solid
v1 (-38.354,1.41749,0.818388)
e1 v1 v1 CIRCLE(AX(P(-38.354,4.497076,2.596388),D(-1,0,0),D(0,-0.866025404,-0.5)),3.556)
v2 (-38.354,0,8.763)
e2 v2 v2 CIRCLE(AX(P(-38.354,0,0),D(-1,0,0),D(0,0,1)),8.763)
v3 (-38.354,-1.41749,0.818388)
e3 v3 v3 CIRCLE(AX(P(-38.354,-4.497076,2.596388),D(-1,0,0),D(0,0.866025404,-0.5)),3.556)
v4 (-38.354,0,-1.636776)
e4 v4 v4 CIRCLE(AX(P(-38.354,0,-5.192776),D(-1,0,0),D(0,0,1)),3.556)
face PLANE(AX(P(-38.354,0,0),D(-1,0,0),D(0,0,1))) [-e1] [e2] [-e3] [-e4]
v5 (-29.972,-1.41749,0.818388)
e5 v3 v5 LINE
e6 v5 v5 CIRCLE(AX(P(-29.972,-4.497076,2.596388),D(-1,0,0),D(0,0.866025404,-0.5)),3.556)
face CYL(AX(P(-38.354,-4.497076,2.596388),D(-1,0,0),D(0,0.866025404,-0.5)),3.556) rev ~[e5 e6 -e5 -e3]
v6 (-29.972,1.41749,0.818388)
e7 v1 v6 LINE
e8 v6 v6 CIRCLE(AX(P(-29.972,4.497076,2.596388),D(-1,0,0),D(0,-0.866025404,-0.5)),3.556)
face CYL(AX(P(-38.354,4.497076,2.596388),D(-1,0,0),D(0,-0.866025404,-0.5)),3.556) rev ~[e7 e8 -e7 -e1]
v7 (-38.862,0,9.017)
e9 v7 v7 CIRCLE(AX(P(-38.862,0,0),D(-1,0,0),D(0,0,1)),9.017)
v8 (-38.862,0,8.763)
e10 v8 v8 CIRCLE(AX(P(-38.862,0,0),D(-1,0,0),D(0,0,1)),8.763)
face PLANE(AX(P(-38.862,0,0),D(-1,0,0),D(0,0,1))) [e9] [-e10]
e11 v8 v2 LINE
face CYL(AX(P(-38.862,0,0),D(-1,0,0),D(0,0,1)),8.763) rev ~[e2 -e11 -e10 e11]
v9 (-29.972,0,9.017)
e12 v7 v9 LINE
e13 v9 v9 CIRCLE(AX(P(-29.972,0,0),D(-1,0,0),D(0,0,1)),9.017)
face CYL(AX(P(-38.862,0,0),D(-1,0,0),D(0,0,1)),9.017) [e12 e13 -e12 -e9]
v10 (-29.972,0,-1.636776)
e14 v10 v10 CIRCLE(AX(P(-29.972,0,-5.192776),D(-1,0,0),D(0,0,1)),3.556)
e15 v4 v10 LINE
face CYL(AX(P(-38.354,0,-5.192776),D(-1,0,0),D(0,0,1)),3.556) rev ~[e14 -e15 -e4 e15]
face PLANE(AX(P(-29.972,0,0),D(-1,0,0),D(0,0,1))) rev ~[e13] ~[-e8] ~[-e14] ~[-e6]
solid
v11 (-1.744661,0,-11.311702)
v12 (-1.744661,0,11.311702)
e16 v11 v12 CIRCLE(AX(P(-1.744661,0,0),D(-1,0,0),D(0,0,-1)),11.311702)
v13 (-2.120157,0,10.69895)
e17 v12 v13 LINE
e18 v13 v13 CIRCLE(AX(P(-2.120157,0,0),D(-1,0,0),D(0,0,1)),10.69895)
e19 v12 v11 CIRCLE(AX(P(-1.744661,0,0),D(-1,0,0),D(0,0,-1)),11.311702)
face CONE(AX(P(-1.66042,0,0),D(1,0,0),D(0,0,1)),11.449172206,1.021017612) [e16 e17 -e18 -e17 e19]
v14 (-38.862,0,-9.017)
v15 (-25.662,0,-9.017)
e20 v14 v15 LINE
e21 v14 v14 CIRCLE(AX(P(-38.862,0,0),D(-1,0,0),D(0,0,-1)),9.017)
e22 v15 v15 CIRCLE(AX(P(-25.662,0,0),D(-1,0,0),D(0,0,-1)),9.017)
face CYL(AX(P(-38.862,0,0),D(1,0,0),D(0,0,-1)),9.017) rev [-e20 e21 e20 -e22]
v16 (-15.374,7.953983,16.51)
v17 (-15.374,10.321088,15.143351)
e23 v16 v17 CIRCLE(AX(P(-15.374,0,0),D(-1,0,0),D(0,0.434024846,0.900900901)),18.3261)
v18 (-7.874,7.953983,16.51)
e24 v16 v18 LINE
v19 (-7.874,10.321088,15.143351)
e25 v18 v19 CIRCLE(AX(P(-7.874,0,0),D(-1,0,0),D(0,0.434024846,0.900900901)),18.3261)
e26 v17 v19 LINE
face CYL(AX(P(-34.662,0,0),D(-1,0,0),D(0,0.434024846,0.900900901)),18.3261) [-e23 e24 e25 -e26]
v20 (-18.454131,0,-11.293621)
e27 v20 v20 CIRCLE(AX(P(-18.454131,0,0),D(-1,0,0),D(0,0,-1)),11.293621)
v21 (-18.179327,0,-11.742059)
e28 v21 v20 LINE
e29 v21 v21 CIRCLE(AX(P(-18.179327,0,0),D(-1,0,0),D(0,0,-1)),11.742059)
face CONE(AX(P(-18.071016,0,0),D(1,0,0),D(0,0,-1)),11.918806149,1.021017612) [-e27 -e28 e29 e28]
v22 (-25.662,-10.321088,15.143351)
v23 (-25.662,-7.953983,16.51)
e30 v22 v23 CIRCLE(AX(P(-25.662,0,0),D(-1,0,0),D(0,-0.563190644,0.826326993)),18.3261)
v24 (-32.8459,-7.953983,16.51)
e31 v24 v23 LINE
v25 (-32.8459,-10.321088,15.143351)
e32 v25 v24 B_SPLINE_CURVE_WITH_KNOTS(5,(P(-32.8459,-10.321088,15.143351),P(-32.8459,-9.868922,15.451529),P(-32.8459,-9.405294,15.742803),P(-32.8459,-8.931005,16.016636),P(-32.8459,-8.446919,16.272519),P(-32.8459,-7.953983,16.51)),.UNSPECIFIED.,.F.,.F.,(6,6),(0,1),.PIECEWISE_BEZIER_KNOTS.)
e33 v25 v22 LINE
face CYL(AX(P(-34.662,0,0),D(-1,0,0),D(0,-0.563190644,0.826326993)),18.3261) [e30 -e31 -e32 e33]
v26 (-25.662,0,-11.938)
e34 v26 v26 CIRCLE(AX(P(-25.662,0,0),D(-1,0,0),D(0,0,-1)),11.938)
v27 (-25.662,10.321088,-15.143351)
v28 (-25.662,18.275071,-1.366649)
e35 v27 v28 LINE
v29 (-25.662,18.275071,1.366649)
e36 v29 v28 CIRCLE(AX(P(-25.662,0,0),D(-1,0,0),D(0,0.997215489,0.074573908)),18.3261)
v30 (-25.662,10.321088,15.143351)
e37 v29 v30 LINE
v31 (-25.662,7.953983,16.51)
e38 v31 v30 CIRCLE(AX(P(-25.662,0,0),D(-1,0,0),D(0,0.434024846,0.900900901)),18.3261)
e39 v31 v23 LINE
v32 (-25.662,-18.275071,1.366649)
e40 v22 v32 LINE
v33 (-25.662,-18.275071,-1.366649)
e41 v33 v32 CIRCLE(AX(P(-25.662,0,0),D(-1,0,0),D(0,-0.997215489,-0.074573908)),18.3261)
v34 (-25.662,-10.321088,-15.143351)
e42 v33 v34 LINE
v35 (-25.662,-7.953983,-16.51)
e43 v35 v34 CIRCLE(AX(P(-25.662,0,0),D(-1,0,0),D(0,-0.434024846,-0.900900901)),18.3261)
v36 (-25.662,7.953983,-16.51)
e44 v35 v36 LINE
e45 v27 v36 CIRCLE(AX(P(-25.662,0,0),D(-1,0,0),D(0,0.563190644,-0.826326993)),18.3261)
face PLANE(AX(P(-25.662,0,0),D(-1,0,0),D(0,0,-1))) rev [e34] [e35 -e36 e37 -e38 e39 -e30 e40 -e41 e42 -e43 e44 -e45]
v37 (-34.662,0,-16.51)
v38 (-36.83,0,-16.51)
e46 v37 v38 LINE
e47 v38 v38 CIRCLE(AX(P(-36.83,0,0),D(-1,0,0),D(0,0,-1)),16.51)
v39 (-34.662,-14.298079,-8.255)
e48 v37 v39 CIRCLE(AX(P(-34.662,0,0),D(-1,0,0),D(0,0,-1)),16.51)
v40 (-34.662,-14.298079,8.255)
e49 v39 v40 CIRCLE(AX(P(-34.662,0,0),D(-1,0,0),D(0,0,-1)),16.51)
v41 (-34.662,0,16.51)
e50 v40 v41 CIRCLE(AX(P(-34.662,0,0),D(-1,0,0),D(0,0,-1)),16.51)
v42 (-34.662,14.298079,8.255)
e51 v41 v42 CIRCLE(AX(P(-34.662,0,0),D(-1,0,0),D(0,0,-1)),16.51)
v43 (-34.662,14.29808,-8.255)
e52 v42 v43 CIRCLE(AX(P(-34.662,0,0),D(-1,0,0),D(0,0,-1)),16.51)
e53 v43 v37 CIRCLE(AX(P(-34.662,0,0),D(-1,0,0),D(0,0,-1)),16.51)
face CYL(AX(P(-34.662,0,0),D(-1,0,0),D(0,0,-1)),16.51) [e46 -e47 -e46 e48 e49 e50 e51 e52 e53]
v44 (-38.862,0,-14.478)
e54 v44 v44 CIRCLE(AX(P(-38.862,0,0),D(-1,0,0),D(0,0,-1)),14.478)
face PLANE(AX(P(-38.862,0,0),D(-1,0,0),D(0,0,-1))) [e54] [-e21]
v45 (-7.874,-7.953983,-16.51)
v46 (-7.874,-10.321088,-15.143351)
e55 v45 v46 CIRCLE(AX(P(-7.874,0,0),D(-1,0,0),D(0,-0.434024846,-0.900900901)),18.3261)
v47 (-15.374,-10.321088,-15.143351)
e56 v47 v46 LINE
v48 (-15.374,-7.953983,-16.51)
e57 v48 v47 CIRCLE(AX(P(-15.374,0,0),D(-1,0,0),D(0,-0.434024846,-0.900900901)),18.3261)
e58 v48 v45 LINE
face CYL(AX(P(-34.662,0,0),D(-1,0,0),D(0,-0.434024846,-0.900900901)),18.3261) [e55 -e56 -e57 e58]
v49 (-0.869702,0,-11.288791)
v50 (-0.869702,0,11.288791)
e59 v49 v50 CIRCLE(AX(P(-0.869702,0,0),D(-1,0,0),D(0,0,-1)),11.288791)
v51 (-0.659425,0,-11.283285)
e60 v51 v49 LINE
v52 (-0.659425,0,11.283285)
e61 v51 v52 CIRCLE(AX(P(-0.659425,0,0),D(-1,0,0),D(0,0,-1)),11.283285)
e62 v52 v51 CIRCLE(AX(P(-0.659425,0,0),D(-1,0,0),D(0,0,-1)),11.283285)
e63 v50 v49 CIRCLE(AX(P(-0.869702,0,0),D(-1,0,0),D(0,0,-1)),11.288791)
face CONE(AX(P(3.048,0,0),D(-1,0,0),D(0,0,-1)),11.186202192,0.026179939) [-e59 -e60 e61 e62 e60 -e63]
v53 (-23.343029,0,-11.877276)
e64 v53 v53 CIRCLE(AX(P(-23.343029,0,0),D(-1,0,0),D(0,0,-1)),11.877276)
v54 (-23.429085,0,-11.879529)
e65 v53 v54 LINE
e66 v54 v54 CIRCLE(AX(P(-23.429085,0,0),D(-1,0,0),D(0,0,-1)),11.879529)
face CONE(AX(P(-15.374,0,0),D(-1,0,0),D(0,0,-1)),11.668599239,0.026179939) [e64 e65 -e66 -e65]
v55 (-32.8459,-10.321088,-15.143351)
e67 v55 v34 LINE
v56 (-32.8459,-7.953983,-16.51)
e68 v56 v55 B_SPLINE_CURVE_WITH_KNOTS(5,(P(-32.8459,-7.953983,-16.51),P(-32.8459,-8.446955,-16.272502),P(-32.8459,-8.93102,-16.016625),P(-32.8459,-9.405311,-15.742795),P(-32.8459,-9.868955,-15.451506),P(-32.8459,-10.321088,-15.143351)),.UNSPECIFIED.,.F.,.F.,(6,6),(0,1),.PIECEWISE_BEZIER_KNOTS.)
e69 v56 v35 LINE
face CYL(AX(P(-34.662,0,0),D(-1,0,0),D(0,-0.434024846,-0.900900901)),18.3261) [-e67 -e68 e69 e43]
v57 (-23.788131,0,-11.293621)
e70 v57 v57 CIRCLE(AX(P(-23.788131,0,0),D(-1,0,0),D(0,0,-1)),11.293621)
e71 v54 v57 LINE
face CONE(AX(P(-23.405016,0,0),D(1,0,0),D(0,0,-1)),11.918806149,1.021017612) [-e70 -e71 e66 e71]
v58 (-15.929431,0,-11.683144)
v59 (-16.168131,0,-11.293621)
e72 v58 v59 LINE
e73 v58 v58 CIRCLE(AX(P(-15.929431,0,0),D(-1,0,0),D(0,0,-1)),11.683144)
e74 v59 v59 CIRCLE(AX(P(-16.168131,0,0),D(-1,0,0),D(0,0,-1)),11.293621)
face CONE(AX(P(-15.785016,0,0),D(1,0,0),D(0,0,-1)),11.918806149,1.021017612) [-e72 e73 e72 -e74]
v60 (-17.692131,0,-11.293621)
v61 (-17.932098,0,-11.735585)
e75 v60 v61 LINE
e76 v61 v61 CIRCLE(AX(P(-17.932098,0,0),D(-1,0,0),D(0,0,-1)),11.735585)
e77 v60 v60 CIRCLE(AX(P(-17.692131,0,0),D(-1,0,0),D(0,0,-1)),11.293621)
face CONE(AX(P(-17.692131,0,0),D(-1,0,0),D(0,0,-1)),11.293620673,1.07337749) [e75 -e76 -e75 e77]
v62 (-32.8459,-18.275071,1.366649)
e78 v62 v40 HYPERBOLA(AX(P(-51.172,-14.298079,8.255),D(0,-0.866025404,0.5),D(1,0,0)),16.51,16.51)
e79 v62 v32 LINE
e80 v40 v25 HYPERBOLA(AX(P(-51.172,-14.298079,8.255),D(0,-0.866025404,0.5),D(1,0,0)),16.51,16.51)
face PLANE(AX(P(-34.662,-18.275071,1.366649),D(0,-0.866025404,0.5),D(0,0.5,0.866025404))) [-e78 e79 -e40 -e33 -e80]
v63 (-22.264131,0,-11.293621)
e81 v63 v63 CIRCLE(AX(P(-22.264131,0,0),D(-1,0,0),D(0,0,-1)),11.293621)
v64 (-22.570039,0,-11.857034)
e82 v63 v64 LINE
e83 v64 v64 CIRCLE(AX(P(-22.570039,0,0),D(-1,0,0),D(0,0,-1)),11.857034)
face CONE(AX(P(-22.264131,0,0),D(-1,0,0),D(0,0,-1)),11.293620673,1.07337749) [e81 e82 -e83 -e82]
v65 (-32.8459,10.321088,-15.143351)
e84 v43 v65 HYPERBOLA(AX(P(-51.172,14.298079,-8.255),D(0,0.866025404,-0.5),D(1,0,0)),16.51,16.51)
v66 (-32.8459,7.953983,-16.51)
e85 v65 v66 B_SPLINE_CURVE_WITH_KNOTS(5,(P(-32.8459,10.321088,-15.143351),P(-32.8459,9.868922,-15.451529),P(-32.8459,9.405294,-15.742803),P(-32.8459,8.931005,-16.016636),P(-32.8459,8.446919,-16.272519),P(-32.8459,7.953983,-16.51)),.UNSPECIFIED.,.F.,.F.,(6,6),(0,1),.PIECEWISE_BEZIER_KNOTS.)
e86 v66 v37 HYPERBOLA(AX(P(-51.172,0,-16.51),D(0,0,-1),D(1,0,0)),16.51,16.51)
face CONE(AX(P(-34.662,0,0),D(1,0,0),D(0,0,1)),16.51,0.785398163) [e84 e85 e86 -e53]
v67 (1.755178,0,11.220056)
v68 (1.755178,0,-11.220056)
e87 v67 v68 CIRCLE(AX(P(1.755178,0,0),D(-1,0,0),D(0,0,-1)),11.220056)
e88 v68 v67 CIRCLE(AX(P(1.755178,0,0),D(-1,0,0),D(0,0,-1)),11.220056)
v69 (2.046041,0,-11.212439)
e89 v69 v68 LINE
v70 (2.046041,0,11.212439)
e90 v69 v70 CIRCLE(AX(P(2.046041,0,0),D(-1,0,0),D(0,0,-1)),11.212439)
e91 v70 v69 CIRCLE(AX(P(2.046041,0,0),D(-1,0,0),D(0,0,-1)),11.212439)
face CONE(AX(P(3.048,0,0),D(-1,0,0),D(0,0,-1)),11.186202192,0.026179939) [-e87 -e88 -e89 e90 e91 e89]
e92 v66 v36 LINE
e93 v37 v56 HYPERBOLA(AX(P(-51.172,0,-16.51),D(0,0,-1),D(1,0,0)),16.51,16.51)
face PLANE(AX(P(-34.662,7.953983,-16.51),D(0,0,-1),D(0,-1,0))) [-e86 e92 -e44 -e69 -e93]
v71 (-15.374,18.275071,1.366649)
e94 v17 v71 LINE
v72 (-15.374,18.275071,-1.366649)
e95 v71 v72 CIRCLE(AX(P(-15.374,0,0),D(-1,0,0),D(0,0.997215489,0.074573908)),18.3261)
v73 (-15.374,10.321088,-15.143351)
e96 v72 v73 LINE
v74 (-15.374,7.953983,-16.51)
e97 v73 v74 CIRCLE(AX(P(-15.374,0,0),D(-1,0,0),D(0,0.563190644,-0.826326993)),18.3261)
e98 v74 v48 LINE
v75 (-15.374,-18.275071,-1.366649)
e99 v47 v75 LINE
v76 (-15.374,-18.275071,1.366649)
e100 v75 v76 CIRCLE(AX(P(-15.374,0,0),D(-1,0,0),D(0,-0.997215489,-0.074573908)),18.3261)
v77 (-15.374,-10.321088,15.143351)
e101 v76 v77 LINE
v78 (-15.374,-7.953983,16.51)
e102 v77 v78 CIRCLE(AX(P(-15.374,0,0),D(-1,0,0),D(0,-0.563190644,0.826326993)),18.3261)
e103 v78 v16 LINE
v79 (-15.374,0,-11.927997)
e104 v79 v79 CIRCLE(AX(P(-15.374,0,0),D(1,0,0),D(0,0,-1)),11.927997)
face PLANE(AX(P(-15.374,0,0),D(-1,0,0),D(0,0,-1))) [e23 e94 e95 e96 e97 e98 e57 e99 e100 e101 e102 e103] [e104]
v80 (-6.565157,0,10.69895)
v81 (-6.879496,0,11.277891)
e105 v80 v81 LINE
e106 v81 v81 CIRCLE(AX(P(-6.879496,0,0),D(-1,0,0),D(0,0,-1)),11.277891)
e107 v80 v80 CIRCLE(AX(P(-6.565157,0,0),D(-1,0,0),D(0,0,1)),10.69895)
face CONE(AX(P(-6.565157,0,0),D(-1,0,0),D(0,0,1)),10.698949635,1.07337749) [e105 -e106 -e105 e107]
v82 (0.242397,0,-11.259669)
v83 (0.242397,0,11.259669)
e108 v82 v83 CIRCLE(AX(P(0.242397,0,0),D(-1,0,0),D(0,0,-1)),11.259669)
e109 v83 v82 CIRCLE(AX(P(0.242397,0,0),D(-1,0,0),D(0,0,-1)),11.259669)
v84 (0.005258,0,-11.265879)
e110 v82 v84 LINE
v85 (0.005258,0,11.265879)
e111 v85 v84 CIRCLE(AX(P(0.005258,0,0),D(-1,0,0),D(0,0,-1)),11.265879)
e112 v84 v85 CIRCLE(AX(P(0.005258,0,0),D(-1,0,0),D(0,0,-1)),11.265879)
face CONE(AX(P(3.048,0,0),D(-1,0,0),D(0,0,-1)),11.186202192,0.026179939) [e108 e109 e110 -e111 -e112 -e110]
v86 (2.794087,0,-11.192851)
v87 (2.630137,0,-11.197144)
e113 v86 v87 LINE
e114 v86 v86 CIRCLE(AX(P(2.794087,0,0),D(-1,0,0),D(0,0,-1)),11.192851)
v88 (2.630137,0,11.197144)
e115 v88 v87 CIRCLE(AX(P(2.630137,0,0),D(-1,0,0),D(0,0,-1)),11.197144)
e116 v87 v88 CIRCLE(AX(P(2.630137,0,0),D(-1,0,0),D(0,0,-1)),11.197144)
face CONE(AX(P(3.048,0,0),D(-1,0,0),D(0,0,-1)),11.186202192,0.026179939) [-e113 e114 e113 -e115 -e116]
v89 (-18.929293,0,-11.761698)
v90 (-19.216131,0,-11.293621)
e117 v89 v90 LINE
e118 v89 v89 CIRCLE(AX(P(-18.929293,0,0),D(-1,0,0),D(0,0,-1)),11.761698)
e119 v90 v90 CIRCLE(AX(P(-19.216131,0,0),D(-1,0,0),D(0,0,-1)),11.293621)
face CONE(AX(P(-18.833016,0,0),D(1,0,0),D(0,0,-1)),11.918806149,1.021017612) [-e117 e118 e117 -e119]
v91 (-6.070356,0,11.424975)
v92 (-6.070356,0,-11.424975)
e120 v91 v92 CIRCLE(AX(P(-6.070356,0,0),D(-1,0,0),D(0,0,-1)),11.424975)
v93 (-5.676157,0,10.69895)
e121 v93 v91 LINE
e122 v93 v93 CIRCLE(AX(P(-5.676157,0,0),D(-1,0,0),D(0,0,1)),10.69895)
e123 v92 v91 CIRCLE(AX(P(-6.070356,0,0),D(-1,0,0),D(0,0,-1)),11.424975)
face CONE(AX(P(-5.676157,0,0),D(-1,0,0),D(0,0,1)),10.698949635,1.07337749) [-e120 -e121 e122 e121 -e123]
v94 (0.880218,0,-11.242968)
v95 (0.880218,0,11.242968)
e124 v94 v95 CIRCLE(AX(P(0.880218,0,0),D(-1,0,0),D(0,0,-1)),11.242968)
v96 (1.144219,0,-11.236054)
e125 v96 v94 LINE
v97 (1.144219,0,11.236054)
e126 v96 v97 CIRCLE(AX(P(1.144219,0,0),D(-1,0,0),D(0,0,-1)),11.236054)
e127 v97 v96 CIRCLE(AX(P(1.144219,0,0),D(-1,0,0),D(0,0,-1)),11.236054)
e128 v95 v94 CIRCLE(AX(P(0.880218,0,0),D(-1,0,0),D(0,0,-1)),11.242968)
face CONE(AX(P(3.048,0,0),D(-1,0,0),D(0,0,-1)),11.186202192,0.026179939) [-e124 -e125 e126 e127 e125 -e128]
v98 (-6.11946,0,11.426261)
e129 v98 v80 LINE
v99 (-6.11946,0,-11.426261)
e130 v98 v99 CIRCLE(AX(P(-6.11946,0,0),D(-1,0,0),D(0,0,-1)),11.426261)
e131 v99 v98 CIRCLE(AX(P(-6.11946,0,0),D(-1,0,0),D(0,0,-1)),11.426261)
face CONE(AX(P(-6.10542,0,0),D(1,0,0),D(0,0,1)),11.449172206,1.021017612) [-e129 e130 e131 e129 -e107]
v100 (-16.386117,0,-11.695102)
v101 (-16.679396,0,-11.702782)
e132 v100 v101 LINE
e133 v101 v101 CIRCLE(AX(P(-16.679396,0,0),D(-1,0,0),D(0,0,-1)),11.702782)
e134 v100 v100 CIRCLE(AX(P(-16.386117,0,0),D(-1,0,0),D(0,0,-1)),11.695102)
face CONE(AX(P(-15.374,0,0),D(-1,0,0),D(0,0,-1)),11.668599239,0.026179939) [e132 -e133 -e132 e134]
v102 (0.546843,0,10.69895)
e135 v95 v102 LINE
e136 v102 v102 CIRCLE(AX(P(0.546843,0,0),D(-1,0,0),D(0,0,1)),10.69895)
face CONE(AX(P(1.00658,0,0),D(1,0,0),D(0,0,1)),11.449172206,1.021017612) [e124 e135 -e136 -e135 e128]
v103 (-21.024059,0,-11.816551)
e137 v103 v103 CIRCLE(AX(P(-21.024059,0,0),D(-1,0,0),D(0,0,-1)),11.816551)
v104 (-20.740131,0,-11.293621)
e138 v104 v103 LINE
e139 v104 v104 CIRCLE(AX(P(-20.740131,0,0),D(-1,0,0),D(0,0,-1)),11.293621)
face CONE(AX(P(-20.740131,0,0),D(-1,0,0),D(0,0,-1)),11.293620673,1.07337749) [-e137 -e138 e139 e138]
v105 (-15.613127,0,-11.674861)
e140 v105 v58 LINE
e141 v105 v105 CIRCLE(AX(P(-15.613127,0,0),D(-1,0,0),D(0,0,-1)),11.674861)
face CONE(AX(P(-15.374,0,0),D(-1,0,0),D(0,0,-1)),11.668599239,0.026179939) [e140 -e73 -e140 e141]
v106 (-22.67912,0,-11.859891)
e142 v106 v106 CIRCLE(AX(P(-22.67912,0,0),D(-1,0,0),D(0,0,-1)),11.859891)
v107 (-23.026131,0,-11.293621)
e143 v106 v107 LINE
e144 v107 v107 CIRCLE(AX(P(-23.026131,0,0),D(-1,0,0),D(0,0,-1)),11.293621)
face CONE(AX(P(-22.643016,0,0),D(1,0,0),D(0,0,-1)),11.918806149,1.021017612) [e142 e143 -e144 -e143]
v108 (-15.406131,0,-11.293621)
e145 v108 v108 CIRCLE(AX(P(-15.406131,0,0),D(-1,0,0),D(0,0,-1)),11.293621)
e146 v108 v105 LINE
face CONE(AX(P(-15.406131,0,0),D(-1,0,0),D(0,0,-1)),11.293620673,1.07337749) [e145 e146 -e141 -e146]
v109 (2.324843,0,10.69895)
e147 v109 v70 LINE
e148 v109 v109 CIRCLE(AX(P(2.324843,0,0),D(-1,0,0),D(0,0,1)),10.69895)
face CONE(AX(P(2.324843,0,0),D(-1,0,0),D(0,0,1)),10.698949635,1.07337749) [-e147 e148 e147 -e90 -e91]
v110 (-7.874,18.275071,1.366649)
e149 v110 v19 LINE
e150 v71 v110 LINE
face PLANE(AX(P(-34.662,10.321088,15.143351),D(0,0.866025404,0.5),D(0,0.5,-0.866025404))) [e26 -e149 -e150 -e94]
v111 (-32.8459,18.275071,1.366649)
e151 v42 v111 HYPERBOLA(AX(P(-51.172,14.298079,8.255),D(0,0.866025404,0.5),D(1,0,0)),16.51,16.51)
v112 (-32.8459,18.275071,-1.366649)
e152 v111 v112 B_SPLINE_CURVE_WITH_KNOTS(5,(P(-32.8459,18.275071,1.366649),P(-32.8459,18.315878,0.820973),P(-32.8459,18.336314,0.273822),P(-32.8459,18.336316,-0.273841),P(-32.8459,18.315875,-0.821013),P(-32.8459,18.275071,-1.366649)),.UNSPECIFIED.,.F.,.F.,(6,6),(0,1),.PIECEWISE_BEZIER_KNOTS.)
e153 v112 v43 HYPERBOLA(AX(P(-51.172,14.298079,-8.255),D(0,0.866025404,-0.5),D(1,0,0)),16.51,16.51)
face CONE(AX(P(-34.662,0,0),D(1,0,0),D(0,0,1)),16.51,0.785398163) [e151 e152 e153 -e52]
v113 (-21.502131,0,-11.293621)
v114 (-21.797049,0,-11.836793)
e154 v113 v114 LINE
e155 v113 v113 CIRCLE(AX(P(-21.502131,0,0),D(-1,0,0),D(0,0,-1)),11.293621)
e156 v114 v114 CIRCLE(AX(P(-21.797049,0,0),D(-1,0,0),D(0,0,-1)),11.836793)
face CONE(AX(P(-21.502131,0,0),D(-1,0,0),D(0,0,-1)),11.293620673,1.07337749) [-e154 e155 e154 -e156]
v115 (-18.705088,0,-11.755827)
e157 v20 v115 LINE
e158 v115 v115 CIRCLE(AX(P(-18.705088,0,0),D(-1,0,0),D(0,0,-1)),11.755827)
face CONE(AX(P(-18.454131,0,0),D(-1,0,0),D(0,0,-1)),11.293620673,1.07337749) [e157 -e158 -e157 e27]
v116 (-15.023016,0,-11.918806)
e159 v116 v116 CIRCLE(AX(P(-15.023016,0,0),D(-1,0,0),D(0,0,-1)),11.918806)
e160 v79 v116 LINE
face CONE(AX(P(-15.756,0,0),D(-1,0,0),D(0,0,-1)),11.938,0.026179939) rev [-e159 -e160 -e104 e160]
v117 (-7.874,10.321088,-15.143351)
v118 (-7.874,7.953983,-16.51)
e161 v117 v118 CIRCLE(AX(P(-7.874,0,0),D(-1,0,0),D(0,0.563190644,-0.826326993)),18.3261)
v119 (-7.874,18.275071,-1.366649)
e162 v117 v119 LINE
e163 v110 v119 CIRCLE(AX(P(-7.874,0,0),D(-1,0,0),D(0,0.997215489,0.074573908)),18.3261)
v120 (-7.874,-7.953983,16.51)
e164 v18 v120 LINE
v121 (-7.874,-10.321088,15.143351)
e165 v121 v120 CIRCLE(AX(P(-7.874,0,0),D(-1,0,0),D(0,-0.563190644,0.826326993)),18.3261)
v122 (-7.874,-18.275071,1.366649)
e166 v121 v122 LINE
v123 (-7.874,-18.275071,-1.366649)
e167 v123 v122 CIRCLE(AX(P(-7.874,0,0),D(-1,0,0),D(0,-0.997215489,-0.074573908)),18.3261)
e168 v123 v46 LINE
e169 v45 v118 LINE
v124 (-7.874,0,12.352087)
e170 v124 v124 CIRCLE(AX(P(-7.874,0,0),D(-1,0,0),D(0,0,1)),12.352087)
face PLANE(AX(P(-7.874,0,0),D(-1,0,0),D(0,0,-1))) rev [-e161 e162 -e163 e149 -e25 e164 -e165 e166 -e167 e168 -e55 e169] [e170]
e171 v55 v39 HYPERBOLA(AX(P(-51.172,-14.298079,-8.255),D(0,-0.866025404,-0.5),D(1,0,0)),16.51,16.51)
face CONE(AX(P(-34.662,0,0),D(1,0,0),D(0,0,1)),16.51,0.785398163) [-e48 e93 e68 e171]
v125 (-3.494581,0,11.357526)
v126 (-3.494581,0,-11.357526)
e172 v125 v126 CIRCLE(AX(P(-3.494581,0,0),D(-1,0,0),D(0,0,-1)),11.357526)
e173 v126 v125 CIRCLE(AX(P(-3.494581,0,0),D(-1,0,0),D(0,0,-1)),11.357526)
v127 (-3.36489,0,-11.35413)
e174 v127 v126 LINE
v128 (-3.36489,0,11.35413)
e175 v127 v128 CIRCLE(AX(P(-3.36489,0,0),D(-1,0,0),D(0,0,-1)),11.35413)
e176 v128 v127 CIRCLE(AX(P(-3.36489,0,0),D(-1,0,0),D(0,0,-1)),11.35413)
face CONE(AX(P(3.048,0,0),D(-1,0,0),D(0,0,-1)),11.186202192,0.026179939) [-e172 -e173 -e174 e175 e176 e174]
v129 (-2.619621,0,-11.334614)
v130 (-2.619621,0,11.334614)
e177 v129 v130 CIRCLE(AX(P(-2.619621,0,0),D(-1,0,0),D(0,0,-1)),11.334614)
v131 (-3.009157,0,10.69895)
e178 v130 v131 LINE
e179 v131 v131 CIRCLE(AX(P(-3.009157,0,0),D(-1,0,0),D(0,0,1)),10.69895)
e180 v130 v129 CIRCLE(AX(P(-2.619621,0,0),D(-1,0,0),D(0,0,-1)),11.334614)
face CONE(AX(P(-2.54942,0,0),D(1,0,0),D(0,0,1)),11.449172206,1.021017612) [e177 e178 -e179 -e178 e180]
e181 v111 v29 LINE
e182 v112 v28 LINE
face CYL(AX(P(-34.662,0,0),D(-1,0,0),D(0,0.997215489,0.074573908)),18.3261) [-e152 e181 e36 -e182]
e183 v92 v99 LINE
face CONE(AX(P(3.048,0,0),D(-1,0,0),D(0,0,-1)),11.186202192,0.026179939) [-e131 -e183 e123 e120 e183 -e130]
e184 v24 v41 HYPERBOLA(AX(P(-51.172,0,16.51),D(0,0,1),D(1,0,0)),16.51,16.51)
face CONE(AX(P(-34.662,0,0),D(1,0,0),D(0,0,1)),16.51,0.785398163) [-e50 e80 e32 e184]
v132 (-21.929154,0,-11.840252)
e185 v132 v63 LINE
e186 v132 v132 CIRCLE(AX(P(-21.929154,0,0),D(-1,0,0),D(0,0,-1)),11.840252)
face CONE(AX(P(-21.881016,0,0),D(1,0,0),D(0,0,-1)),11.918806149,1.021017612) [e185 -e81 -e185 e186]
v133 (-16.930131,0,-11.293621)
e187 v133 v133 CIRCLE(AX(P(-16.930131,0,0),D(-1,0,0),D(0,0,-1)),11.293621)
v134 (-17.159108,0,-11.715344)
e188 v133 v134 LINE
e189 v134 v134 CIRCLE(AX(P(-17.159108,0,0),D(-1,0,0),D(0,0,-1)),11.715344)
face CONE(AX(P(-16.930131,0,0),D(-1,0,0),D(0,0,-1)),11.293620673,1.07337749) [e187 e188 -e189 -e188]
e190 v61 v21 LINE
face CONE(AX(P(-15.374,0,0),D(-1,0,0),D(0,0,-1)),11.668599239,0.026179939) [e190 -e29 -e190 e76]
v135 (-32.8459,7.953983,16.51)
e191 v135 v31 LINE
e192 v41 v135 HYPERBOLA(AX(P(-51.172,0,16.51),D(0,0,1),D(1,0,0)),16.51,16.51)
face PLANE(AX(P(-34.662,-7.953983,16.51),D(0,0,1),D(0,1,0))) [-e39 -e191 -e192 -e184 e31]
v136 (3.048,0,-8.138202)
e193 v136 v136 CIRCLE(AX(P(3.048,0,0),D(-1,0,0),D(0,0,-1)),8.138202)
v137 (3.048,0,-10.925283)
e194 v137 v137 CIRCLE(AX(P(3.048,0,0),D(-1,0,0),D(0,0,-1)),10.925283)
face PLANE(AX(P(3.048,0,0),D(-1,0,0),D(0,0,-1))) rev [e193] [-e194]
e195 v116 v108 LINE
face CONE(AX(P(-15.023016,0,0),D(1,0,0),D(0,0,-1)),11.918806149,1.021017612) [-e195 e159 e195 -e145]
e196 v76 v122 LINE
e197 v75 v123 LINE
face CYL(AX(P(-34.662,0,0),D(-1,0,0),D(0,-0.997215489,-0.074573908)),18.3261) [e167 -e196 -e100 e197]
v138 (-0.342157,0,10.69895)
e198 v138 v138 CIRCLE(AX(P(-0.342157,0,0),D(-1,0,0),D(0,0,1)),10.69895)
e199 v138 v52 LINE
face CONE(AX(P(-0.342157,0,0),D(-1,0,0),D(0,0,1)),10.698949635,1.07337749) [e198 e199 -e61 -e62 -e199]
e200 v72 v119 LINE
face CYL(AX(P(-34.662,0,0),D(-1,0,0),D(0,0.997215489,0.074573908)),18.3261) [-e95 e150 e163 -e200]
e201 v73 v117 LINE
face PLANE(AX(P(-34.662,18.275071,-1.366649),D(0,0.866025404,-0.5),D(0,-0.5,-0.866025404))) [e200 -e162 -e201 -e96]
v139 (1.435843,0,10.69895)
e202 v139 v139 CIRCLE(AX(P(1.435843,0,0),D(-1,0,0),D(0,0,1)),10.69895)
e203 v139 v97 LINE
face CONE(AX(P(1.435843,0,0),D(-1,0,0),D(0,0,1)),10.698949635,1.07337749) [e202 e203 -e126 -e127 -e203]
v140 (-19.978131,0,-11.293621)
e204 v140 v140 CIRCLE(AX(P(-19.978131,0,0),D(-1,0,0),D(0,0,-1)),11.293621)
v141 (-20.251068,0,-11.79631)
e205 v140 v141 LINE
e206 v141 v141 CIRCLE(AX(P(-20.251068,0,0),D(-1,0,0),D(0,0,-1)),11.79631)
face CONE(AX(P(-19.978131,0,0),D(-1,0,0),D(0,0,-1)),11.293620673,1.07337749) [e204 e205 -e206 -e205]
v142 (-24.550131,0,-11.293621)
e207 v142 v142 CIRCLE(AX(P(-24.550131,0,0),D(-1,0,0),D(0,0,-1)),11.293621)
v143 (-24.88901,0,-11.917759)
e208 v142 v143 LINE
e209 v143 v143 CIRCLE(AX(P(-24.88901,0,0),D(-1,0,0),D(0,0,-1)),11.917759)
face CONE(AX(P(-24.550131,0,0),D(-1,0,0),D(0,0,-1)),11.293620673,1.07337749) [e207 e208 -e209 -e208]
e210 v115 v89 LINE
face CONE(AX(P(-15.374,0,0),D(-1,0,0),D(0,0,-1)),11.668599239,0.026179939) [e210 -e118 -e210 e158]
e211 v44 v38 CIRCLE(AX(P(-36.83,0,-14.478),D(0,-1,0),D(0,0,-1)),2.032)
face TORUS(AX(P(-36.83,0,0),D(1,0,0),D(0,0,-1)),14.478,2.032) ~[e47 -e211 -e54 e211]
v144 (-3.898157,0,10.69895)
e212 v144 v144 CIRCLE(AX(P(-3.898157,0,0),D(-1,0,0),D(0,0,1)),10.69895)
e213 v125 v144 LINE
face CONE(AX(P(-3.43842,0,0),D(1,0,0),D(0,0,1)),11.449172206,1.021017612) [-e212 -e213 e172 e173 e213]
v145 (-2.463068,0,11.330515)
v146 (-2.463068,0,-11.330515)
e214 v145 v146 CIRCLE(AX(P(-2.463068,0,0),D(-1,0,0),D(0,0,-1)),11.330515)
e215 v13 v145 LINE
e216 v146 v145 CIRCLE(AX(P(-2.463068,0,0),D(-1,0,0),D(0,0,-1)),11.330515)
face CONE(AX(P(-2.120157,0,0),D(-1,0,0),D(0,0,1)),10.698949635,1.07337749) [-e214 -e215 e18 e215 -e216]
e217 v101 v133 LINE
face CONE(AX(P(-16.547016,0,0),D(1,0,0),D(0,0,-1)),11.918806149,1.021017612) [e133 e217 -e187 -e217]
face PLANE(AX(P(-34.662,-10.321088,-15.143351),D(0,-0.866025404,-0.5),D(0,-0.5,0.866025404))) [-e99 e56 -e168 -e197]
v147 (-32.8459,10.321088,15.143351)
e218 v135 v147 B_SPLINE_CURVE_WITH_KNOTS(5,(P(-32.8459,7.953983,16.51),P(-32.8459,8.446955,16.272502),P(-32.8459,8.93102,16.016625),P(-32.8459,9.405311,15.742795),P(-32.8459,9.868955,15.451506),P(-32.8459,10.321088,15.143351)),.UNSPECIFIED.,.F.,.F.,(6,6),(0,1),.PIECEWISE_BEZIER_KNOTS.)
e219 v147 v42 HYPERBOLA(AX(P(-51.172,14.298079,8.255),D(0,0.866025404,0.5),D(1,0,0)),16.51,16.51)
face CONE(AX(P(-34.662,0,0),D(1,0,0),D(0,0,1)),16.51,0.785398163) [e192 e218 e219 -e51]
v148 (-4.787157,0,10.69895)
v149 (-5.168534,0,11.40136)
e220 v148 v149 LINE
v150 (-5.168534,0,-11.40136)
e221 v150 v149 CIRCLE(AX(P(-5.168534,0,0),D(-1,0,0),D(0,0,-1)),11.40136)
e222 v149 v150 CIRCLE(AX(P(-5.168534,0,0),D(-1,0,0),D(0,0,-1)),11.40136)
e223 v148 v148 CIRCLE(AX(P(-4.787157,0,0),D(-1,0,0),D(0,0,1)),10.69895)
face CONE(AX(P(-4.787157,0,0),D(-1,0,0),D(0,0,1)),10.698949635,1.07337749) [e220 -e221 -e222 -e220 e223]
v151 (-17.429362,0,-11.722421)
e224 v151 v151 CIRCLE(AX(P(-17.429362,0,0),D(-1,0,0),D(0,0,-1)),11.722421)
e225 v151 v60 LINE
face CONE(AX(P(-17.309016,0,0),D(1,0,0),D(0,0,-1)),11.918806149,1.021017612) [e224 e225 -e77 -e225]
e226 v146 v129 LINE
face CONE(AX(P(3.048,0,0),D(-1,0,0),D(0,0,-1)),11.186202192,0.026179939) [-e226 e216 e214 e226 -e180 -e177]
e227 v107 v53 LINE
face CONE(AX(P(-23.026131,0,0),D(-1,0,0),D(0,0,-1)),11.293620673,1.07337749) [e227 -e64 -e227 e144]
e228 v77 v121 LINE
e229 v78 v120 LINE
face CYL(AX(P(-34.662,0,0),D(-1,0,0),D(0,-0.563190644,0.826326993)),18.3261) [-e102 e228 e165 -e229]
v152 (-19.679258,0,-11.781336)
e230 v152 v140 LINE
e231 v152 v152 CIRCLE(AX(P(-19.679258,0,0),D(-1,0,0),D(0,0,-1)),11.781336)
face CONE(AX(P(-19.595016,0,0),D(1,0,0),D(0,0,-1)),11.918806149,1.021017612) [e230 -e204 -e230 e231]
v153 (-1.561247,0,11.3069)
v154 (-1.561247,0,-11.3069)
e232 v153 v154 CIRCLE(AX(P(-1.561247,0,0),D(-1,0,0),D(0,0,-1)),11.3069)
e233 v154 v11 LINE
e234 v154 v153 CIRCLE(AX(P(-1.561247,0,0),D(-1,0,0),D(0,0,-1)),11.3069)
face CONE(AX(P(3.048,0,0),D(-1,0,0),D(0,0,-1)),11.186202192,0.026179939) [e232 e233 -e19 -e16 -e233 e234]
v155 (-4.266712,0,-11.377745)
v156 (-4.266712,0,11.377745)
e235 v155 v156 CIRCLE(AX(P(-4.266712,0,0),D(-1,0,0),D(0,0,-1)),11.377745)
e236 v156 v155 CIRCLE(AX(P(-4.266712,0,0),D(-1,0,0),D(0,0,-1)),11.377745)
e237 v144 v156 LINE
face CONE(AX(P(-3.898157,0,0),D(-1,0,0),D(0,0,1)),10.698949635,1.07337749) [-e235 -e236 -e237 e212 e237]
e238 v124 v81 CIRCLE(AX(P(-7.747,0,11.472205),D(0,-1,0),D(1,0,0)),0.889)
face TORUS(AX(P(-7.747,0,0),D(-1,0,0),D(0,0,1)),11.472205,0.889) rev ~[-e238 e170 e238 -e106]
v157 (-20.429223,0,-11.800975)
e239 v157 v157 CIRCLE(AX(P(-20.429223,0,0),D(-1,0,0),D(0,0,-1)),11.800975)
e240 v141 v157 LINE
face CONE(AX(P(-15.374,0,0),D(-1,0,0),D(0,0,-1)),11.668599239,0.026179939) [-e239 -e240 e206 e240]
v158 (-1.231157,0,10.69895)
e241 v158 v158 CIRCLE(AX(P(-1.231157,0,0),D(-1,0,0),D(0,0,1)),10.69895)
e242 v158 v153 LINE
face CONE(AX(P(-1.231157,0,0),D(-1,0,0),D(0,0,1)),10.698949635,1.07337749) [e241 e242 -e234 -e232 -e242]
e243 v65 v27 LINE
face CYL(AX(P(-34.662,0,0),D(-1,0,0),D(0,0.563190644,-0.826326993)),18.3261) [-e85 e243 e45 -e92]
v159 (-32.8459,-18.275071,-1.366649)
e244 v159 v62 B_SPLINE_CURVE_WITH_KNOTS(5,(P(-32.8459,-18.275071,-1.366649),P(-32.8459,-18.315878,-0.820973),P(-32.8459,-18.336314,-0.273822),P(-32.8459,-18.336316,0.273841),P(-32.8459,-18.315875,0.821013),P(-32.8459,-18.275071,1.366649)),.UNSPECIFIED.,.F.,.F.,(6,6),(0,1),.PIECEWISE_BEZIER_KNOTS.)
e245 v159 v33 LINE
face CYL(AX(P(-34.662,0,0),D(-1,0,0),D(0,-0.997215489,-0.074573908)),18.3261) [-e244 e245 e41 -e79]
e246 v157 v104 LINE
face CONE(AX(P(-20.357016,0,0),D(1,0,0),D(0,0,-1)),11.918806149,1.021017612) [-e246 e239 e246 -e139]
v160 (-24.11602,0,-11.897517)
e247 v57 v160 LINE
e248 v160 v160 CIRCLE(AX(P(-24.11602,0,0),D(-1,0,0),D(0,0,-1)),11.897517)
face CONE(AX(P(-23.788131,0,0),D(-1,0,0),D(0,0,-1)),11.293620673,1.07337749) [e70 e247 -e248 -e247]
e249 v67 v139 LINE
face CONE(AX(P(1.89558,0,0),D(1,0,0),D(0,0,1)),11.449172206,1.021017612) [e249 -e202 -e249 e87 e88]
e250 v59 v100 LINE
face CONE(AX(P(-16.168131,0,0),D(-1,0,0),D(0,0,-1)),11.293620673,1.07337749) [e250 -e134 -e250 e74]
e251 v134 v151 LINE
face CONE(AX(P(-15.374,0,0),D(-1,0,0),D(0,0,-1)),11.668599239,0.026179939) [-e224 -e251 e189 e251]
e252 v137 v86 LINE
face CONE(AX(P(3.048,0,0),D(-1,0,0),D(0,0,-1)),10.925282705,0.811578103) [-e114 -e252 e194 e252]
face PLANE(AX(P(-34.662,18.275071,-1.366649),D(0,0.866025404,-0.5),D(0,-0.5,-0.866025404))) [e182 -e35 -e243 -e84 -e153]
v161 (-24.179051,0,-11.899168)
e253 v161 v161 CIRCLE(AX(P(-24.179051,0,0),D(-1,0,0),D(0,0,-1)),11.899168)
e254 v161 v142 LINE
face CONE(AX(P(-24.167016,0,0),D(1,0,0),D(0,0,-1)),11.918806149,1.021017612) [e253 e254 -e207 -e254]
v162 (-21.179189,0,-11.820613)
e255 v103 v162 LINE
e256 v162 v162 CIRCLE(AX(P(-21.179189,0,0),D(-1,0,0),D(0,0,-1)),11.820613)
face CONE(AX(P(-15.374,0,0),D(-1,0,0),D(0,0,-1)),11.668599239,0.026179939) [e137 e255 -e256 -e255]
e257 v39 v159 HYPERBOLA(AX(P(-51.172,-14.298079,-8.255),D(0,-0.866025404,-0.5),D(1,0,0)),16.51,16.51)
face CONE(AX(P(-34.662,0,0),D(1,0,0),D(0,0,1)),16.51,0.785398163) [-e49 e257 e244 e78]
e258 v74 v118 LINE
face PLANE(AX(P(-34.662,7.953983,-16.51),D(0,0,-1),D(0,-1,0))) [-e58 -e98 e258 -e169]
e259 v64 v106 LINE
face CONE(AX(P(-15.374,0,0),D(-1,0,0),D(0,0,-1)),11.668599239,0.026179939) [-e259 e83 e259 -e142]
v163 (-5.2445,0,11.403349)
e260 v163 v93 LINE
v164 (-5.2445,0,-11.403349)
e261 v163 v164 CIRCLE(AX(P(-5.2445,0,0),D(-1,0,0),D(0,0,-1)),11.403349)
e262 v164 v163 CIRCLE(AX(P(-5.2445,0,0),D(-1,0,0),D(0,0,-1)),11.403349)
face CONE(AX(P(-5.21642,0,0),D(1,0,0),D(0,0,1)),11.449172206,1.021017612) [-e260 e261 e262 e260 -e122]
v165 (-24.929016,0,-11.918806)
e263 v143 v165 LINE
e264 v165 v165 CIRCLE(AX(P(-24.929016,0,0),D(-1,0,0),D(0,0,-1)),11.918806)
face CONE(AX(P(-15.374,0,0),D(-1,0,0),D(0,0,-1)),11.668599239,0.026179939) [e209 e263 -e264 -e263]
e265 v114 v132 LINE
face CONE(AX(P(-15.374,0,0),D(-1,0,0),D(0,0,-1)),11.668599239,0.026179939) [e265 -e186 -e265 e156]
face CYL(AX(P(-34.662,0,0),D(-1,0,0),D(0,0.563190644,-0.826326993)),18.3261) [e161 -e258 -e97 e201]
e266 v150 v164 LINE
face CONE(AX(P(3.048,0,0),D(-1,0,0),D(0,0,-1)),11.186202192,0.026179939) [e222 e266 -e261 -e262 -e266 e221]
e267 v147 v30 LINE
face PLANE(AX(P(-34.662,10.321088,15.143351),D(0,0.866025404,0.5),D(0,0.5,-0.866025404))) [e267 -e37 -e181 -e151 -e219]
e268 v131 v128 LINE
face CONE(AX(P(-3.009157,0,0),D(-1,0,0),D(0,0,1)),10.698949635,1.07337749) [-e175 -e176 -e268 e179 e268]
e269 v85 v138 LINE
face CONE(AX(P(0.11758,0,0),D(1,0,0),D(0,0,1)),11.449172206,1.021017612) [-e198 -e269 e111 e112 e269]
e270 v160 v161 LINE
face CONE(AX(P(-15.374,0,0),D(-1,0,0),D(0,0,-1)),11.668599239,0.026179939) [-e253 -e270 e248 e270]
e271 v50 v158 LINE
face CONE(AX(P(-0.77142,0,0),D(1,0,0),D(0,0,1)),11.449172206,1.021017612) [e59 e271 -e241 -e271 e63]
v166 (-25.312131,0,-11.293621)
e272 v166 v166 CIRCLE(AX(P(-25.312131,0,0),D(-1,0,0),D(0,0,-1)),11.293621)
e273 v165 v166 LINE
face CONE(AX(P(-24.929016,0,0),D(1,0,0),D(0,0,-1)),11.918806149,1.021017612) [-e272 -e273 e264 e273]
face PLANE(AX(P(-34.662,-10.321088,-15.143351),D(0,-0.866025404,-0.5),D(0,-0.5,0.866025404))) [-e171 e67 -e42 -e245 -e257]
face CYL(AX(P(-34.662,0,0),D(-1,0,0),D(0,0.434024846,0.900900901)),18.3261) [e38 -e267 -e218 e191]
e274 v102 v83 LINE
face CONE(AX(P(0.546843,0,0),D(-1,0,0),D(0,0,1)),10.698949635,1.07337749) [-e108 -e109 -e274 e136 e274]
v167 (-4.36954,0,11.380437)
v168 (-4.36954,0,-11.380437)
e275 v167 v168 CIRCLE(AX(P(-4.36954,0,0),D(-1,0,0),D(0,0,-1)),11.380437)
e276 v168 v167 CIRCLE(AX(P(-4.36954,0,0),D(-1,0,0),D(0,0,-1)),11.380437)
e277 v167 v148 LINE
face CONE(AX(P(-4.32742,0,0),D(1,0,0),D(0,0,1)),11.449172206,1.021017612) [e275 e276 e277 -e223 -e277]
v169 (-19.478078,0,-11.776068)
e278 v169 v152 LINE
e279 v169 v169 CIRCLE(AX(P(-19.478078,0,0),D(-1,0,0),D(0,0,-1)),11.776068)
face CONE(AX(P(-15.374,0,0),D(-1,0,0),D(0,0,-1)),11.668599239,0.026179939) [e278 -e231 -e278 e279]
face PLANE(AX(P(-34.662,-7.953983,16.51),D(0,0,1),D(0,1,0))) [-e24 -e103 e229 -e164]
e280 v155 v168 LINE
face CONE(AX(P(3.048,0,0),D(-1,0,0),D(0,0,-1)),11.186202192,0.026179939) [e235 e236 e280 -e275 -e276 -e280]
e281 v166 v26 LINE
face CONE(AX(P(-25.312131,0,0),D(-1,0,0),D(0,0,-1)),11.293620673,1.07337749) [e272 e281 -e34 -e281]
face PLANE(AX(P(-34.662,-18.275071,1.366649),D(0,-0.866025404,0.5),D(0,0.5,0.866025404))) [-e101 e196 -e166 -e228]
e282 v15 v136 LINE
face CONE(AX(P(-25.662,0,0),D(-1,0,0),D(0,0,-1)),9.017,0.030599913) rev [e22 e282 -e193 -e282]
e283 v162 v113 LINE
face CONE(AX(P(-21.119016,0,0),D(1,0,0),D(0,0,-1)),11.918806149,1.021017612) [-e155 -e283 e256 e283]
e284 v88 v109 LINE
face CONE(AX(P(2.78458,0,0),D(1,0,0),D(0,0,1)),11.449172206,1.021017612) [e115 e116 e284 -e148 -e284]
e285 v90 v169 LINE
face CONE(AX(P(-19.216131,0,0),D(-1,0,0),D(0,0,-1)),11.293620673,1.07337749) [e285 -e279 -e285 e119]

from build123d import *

# Parameters (mm, degrees)
SKETCH12_OUTSIDE_W = 88.514
SKETCH12_OUTSIDE_H = 88.514
CUT_EXTRUDE2_DEPTH = 38.71
FILLET4_R          = 2.032
SKETCH19_OUTSIDE_W = 55.962
SKETCH19_OUTSIDE_H = 59.594
SKETCH19_OUTSIDE_R = 16.51
CUT_EXTRUDE3_DEPTH = 3.99796
CUT_EXTRUDE3_DRAFT = -45
CHAMFER1_SIZE      = 0.260919487
CHAMFER1_SIZE2     = 0.254
SKETCH21_R         = 9.017
PLUG_DEPTH         = 8.89
SKETCH22_R         = 8.763
CUT_EXTRUDE4_DEPTH = 0.508
SKETCH27_R         = 3.556
PLUGHOLES_DEPTH    = 42.402
CIRPATTERN1_COUNT  = 3
LPATTERN1_COUNT    = 14
LPATTERN1_PITCH    = 0.762
LPATTERN2_COUNT    = 12
LPATTERN2_PITCH    = 0.889
SKETCH32_R         = 0.889


with BuildPart() as part:
    # Sketch10 → Revolve2 (revolve)
    with BuildSketch(Plane.XY, mode=Mode.PRIVATE) as revolve2_sk:
        Polygon((-38.862, 9.017), (-25.662, 9.017), (3.048, 8.138202192), (3.048, 11.186202192), (-7.874, 11.472204827), (-7.874, 33.02), (-15.374, 33.02), (-15.374, 11.668599239), (-25.662, 11.938), (-25.662, 33.02), (-34.662, 33.02), (-34.662, 16.51), (-38.862, 16.51), align=None)
    revolve(revolve2_sk.sketch.rotate(Axis((0, 0, 0), (-1, 0, 0)), 90), axis=Axis((0, 0, 0), (-1, 0, 0)))  # turned: the seam where the file's is

    # Sketch12 outside → Cut-Extrude2 (cut, through all)
    with BuildSketch(Plane.ZY.offset(34.662)):
        Rectangle(SKETCH12_OUTSIDE_W, SKETCH12_OUTSIDE_H)
        with BuildLine():
            Line((-1.366648898, 18.27507078), (-15.143351102, 10.321088053))
            ThreePointArc((-15.143351102, 10.321088053), (-15.870868152, 9.16305), (-16.51, 7.953982726))
            Line((-16.51, 7.953982726), (-16.51, -7.953982726))
            ThreePointArc((-16.51, -7.953982726), (-15.870868152, -9.16305), (-15.143351102, -10.321088053))
            Line((-15.143351102, -10.321088053), (-1.366648898, -18.27507078))
            ThreePointArc((-1.366648898, -18.27507078), (0, -18.3261), (1.366648898, -18.27507078))
            Line((1.366648898, -18.27507078), (15.143351102, -10.321088053))
            ThreePointArc((15.143351102, -10.321088053), (15.870868152, -9.16305), (16.51, -7.953982726))
            Line((16.51, -7.953982726), (16.51, 7.953982726))
            ThreePointArc((16.51, 7.953982726), (15.870868152, 9.16305), (15.143351102, 10.321088053))
            Line((15.143351102, 10.321088053), (1.366648898, 18.27507078))
            ThreePointArc((1.366648898, 18.27507078), (0, 18.3261), (-1.366648898, 18.27507078))
        make_face(mode=Mode.SUBTRACT)
    extrude(amount=-CUT_EXTRUDE2_DEPTH, mode=Mode.SUBTRACT)

    # Fillet4
    fillet4_edges = [part.edges().sort_by_distance(p)[0] for p in [
        (-38.862, 0, 16.51),
    ]]
    fillet(fillet4_edges, radius=FILLET4_R)


with BuildPart() as cut_extrude3_tool:
    # Sketch19 outside → Cut-Extrude3 (with draft: the straight prism first)
    with BuildSketch(Plane.ZY.offset(34.662)):
        Rectangle(SKETCH19_OUTSIDE_W, SKETCH19_OUTSIDE_H)
        Circle(SKETCH19_OUTSIDE_R, mode=Mode.SUBTRACT)
    extrude(amount=-CUT_EXTRUDE3_DEPTH)
    # Cut-Extrude3: the draft: its side faces are tilted about the plane it starts from
    cut_extrude3_sides = [cut_extrude3_tool.faces().sort_by_distance(p)[0] for p in [
        (-32.66302, -29.797, 0),
        (-32.66302, 0, 27.981),
        (-32.66302, 29.797, 0),
        (-32.66302, 0, -27.981),
        (-32.66302, 0, -16.51),
    ]]
    draft(cut_extrude3_sides, Plane.ZY.offset(34.662), CUT_EXTRUDE3_DRAFT)


with BuildPart() as part_1:
    add(part.part)

    # Cut-Extrude3: cut by cut_extrude3_tool
    add(cut_extrude3_tool.part, mode=Mode.SUBTRACT)

    # Chamfer1
    chamfer1_edges = [part_1.edges().sort_by_distance(p)[0] for p in [
        (3.048, 0, 11.186202192),
    ]]
    chamfer1_side = [part_1.faces().sort_by_distance(p)[0] for p in [
        (3.048, 0, 8.454595769),
    ]]
    chamfer(chamfer1_edges, length=CHAMFER1_SIZE, length2=CHAMFER1_SIZE2, reference=chamfer1_side[0])

    # Sketch29 → Cut-Revolve1 (revolve, cut)
    with BuildSketch(Plane.XY, mode=Mode.PRIVATE) as cut_revolve1_sk:
        Polygon((-25.662, 11.938), (-24.929016419, 11.918806149), (-25.312130572, 11.293620673), align=None)
    cut_revolve1 = revolve(cut_revolve1_sk.sketch.rotate(Axis((0, 0, 0), (-1, 0, 0)), 90), axis=Axis((0, 0, 0), (-1, 0, 0)), mode=Mode.SUBTRACT)  # turned: the seam where the file's is

    # LPattern1: Cut-Revolve1 ×14
    with Locations(*[(i * LPATTERN1_PITCH, 0, 0) for i in range(1, LPATTERN1_COUNT)]):
        add(cut_revolve1, mode=Mode.SUBTRACT)

    # Sketch30 → Cut-Revolve2 (revolve, cut)
    with BuildSketch(Plane.XY, mode=Mode.PRIVATE) as cut_revolve2_sk:
        Polygon((-7.874, 11.472204827), (-6.994419703, 11.449172206), (-7.454156686, 10.698949635), align=None)
    cut_revolve2 = revolve(cut_revolve2_sk.sketch.rotate(Axis((0, 0, 0), (-1, 0, 0)), 270), axis=Axis((0, 0, 0), (-1, 0, 0)), mode=Mode.SUBTRACT)  # turned: the seam where the file's is

    # LPattern2: Cut-Revolve2 ×12
    with Locations(*[(i * LPATTERN2_PITCH, 0, 0) for i in range(1, LPATTERN2_COUNT)]):
        add(cut_revolve2, mode=Mode.SUBTRACT)

    # Sketch32 → Cut-Revolve3 (revolve, cut)
    with BuildSketch(Plane.XY, mode=Mode.PRIVATE) as cut_revolve3_sk:
        with Locations((-7.747, 11.472204827)):
            Circle(SKETCH32_R)
    revolve(cut_revolve3_sk.sketch.rotate(Axis((0, 0, 0), (-1, 0, 0)), 270), axis=Axis((0, 0, 0), (-1, 0, 0)), mode=Mode.SUBTRACT)  # turned: the seam where the file's is


with BuildPart() as body_2:
    # Sketch21 → plug (new body)
    with BuildSketch(Plane.ZY.offset(38.862)):
        Circle(SKETCH21_R)
    extrude(amount=-PLUG_DEPTH)

    # Sketch22 → Cut-Extrude4 (cut)
    with BuildSketch(Plane.ZY.offset(38.862)):
        Circle(SKETCH22_R)
    extrude(amount=-CUT_EXTRUDE4_DEPTH, mode=Mode.SUBTRACT)

    # Sketch27 → plugholes (cut, through all)
    with BuildSketch(Plane.ZY.offset(38.354)):
        with Locations((-5.192776, 0)):
            Circle(SKETCH27_R)
    plugholes = extrude(amount=-PLUGHOLES_DEPTH, mode=Mode.SUBTRACT)

    # CirPattern1: plugholes ×3 about axis
    cirpattern1_axis = Axis((0, 0, 0), (1, 0, 0))
    for i in range(1, CIRPATTERN1_COUNT):
        add(plugholes.rotate(cirpattern1_axis, i * 360 / CIRPATTERN1_COUNT), mode=Mode.SUBTRACT)


solid = Compound([part_1.part, body_2.part])
